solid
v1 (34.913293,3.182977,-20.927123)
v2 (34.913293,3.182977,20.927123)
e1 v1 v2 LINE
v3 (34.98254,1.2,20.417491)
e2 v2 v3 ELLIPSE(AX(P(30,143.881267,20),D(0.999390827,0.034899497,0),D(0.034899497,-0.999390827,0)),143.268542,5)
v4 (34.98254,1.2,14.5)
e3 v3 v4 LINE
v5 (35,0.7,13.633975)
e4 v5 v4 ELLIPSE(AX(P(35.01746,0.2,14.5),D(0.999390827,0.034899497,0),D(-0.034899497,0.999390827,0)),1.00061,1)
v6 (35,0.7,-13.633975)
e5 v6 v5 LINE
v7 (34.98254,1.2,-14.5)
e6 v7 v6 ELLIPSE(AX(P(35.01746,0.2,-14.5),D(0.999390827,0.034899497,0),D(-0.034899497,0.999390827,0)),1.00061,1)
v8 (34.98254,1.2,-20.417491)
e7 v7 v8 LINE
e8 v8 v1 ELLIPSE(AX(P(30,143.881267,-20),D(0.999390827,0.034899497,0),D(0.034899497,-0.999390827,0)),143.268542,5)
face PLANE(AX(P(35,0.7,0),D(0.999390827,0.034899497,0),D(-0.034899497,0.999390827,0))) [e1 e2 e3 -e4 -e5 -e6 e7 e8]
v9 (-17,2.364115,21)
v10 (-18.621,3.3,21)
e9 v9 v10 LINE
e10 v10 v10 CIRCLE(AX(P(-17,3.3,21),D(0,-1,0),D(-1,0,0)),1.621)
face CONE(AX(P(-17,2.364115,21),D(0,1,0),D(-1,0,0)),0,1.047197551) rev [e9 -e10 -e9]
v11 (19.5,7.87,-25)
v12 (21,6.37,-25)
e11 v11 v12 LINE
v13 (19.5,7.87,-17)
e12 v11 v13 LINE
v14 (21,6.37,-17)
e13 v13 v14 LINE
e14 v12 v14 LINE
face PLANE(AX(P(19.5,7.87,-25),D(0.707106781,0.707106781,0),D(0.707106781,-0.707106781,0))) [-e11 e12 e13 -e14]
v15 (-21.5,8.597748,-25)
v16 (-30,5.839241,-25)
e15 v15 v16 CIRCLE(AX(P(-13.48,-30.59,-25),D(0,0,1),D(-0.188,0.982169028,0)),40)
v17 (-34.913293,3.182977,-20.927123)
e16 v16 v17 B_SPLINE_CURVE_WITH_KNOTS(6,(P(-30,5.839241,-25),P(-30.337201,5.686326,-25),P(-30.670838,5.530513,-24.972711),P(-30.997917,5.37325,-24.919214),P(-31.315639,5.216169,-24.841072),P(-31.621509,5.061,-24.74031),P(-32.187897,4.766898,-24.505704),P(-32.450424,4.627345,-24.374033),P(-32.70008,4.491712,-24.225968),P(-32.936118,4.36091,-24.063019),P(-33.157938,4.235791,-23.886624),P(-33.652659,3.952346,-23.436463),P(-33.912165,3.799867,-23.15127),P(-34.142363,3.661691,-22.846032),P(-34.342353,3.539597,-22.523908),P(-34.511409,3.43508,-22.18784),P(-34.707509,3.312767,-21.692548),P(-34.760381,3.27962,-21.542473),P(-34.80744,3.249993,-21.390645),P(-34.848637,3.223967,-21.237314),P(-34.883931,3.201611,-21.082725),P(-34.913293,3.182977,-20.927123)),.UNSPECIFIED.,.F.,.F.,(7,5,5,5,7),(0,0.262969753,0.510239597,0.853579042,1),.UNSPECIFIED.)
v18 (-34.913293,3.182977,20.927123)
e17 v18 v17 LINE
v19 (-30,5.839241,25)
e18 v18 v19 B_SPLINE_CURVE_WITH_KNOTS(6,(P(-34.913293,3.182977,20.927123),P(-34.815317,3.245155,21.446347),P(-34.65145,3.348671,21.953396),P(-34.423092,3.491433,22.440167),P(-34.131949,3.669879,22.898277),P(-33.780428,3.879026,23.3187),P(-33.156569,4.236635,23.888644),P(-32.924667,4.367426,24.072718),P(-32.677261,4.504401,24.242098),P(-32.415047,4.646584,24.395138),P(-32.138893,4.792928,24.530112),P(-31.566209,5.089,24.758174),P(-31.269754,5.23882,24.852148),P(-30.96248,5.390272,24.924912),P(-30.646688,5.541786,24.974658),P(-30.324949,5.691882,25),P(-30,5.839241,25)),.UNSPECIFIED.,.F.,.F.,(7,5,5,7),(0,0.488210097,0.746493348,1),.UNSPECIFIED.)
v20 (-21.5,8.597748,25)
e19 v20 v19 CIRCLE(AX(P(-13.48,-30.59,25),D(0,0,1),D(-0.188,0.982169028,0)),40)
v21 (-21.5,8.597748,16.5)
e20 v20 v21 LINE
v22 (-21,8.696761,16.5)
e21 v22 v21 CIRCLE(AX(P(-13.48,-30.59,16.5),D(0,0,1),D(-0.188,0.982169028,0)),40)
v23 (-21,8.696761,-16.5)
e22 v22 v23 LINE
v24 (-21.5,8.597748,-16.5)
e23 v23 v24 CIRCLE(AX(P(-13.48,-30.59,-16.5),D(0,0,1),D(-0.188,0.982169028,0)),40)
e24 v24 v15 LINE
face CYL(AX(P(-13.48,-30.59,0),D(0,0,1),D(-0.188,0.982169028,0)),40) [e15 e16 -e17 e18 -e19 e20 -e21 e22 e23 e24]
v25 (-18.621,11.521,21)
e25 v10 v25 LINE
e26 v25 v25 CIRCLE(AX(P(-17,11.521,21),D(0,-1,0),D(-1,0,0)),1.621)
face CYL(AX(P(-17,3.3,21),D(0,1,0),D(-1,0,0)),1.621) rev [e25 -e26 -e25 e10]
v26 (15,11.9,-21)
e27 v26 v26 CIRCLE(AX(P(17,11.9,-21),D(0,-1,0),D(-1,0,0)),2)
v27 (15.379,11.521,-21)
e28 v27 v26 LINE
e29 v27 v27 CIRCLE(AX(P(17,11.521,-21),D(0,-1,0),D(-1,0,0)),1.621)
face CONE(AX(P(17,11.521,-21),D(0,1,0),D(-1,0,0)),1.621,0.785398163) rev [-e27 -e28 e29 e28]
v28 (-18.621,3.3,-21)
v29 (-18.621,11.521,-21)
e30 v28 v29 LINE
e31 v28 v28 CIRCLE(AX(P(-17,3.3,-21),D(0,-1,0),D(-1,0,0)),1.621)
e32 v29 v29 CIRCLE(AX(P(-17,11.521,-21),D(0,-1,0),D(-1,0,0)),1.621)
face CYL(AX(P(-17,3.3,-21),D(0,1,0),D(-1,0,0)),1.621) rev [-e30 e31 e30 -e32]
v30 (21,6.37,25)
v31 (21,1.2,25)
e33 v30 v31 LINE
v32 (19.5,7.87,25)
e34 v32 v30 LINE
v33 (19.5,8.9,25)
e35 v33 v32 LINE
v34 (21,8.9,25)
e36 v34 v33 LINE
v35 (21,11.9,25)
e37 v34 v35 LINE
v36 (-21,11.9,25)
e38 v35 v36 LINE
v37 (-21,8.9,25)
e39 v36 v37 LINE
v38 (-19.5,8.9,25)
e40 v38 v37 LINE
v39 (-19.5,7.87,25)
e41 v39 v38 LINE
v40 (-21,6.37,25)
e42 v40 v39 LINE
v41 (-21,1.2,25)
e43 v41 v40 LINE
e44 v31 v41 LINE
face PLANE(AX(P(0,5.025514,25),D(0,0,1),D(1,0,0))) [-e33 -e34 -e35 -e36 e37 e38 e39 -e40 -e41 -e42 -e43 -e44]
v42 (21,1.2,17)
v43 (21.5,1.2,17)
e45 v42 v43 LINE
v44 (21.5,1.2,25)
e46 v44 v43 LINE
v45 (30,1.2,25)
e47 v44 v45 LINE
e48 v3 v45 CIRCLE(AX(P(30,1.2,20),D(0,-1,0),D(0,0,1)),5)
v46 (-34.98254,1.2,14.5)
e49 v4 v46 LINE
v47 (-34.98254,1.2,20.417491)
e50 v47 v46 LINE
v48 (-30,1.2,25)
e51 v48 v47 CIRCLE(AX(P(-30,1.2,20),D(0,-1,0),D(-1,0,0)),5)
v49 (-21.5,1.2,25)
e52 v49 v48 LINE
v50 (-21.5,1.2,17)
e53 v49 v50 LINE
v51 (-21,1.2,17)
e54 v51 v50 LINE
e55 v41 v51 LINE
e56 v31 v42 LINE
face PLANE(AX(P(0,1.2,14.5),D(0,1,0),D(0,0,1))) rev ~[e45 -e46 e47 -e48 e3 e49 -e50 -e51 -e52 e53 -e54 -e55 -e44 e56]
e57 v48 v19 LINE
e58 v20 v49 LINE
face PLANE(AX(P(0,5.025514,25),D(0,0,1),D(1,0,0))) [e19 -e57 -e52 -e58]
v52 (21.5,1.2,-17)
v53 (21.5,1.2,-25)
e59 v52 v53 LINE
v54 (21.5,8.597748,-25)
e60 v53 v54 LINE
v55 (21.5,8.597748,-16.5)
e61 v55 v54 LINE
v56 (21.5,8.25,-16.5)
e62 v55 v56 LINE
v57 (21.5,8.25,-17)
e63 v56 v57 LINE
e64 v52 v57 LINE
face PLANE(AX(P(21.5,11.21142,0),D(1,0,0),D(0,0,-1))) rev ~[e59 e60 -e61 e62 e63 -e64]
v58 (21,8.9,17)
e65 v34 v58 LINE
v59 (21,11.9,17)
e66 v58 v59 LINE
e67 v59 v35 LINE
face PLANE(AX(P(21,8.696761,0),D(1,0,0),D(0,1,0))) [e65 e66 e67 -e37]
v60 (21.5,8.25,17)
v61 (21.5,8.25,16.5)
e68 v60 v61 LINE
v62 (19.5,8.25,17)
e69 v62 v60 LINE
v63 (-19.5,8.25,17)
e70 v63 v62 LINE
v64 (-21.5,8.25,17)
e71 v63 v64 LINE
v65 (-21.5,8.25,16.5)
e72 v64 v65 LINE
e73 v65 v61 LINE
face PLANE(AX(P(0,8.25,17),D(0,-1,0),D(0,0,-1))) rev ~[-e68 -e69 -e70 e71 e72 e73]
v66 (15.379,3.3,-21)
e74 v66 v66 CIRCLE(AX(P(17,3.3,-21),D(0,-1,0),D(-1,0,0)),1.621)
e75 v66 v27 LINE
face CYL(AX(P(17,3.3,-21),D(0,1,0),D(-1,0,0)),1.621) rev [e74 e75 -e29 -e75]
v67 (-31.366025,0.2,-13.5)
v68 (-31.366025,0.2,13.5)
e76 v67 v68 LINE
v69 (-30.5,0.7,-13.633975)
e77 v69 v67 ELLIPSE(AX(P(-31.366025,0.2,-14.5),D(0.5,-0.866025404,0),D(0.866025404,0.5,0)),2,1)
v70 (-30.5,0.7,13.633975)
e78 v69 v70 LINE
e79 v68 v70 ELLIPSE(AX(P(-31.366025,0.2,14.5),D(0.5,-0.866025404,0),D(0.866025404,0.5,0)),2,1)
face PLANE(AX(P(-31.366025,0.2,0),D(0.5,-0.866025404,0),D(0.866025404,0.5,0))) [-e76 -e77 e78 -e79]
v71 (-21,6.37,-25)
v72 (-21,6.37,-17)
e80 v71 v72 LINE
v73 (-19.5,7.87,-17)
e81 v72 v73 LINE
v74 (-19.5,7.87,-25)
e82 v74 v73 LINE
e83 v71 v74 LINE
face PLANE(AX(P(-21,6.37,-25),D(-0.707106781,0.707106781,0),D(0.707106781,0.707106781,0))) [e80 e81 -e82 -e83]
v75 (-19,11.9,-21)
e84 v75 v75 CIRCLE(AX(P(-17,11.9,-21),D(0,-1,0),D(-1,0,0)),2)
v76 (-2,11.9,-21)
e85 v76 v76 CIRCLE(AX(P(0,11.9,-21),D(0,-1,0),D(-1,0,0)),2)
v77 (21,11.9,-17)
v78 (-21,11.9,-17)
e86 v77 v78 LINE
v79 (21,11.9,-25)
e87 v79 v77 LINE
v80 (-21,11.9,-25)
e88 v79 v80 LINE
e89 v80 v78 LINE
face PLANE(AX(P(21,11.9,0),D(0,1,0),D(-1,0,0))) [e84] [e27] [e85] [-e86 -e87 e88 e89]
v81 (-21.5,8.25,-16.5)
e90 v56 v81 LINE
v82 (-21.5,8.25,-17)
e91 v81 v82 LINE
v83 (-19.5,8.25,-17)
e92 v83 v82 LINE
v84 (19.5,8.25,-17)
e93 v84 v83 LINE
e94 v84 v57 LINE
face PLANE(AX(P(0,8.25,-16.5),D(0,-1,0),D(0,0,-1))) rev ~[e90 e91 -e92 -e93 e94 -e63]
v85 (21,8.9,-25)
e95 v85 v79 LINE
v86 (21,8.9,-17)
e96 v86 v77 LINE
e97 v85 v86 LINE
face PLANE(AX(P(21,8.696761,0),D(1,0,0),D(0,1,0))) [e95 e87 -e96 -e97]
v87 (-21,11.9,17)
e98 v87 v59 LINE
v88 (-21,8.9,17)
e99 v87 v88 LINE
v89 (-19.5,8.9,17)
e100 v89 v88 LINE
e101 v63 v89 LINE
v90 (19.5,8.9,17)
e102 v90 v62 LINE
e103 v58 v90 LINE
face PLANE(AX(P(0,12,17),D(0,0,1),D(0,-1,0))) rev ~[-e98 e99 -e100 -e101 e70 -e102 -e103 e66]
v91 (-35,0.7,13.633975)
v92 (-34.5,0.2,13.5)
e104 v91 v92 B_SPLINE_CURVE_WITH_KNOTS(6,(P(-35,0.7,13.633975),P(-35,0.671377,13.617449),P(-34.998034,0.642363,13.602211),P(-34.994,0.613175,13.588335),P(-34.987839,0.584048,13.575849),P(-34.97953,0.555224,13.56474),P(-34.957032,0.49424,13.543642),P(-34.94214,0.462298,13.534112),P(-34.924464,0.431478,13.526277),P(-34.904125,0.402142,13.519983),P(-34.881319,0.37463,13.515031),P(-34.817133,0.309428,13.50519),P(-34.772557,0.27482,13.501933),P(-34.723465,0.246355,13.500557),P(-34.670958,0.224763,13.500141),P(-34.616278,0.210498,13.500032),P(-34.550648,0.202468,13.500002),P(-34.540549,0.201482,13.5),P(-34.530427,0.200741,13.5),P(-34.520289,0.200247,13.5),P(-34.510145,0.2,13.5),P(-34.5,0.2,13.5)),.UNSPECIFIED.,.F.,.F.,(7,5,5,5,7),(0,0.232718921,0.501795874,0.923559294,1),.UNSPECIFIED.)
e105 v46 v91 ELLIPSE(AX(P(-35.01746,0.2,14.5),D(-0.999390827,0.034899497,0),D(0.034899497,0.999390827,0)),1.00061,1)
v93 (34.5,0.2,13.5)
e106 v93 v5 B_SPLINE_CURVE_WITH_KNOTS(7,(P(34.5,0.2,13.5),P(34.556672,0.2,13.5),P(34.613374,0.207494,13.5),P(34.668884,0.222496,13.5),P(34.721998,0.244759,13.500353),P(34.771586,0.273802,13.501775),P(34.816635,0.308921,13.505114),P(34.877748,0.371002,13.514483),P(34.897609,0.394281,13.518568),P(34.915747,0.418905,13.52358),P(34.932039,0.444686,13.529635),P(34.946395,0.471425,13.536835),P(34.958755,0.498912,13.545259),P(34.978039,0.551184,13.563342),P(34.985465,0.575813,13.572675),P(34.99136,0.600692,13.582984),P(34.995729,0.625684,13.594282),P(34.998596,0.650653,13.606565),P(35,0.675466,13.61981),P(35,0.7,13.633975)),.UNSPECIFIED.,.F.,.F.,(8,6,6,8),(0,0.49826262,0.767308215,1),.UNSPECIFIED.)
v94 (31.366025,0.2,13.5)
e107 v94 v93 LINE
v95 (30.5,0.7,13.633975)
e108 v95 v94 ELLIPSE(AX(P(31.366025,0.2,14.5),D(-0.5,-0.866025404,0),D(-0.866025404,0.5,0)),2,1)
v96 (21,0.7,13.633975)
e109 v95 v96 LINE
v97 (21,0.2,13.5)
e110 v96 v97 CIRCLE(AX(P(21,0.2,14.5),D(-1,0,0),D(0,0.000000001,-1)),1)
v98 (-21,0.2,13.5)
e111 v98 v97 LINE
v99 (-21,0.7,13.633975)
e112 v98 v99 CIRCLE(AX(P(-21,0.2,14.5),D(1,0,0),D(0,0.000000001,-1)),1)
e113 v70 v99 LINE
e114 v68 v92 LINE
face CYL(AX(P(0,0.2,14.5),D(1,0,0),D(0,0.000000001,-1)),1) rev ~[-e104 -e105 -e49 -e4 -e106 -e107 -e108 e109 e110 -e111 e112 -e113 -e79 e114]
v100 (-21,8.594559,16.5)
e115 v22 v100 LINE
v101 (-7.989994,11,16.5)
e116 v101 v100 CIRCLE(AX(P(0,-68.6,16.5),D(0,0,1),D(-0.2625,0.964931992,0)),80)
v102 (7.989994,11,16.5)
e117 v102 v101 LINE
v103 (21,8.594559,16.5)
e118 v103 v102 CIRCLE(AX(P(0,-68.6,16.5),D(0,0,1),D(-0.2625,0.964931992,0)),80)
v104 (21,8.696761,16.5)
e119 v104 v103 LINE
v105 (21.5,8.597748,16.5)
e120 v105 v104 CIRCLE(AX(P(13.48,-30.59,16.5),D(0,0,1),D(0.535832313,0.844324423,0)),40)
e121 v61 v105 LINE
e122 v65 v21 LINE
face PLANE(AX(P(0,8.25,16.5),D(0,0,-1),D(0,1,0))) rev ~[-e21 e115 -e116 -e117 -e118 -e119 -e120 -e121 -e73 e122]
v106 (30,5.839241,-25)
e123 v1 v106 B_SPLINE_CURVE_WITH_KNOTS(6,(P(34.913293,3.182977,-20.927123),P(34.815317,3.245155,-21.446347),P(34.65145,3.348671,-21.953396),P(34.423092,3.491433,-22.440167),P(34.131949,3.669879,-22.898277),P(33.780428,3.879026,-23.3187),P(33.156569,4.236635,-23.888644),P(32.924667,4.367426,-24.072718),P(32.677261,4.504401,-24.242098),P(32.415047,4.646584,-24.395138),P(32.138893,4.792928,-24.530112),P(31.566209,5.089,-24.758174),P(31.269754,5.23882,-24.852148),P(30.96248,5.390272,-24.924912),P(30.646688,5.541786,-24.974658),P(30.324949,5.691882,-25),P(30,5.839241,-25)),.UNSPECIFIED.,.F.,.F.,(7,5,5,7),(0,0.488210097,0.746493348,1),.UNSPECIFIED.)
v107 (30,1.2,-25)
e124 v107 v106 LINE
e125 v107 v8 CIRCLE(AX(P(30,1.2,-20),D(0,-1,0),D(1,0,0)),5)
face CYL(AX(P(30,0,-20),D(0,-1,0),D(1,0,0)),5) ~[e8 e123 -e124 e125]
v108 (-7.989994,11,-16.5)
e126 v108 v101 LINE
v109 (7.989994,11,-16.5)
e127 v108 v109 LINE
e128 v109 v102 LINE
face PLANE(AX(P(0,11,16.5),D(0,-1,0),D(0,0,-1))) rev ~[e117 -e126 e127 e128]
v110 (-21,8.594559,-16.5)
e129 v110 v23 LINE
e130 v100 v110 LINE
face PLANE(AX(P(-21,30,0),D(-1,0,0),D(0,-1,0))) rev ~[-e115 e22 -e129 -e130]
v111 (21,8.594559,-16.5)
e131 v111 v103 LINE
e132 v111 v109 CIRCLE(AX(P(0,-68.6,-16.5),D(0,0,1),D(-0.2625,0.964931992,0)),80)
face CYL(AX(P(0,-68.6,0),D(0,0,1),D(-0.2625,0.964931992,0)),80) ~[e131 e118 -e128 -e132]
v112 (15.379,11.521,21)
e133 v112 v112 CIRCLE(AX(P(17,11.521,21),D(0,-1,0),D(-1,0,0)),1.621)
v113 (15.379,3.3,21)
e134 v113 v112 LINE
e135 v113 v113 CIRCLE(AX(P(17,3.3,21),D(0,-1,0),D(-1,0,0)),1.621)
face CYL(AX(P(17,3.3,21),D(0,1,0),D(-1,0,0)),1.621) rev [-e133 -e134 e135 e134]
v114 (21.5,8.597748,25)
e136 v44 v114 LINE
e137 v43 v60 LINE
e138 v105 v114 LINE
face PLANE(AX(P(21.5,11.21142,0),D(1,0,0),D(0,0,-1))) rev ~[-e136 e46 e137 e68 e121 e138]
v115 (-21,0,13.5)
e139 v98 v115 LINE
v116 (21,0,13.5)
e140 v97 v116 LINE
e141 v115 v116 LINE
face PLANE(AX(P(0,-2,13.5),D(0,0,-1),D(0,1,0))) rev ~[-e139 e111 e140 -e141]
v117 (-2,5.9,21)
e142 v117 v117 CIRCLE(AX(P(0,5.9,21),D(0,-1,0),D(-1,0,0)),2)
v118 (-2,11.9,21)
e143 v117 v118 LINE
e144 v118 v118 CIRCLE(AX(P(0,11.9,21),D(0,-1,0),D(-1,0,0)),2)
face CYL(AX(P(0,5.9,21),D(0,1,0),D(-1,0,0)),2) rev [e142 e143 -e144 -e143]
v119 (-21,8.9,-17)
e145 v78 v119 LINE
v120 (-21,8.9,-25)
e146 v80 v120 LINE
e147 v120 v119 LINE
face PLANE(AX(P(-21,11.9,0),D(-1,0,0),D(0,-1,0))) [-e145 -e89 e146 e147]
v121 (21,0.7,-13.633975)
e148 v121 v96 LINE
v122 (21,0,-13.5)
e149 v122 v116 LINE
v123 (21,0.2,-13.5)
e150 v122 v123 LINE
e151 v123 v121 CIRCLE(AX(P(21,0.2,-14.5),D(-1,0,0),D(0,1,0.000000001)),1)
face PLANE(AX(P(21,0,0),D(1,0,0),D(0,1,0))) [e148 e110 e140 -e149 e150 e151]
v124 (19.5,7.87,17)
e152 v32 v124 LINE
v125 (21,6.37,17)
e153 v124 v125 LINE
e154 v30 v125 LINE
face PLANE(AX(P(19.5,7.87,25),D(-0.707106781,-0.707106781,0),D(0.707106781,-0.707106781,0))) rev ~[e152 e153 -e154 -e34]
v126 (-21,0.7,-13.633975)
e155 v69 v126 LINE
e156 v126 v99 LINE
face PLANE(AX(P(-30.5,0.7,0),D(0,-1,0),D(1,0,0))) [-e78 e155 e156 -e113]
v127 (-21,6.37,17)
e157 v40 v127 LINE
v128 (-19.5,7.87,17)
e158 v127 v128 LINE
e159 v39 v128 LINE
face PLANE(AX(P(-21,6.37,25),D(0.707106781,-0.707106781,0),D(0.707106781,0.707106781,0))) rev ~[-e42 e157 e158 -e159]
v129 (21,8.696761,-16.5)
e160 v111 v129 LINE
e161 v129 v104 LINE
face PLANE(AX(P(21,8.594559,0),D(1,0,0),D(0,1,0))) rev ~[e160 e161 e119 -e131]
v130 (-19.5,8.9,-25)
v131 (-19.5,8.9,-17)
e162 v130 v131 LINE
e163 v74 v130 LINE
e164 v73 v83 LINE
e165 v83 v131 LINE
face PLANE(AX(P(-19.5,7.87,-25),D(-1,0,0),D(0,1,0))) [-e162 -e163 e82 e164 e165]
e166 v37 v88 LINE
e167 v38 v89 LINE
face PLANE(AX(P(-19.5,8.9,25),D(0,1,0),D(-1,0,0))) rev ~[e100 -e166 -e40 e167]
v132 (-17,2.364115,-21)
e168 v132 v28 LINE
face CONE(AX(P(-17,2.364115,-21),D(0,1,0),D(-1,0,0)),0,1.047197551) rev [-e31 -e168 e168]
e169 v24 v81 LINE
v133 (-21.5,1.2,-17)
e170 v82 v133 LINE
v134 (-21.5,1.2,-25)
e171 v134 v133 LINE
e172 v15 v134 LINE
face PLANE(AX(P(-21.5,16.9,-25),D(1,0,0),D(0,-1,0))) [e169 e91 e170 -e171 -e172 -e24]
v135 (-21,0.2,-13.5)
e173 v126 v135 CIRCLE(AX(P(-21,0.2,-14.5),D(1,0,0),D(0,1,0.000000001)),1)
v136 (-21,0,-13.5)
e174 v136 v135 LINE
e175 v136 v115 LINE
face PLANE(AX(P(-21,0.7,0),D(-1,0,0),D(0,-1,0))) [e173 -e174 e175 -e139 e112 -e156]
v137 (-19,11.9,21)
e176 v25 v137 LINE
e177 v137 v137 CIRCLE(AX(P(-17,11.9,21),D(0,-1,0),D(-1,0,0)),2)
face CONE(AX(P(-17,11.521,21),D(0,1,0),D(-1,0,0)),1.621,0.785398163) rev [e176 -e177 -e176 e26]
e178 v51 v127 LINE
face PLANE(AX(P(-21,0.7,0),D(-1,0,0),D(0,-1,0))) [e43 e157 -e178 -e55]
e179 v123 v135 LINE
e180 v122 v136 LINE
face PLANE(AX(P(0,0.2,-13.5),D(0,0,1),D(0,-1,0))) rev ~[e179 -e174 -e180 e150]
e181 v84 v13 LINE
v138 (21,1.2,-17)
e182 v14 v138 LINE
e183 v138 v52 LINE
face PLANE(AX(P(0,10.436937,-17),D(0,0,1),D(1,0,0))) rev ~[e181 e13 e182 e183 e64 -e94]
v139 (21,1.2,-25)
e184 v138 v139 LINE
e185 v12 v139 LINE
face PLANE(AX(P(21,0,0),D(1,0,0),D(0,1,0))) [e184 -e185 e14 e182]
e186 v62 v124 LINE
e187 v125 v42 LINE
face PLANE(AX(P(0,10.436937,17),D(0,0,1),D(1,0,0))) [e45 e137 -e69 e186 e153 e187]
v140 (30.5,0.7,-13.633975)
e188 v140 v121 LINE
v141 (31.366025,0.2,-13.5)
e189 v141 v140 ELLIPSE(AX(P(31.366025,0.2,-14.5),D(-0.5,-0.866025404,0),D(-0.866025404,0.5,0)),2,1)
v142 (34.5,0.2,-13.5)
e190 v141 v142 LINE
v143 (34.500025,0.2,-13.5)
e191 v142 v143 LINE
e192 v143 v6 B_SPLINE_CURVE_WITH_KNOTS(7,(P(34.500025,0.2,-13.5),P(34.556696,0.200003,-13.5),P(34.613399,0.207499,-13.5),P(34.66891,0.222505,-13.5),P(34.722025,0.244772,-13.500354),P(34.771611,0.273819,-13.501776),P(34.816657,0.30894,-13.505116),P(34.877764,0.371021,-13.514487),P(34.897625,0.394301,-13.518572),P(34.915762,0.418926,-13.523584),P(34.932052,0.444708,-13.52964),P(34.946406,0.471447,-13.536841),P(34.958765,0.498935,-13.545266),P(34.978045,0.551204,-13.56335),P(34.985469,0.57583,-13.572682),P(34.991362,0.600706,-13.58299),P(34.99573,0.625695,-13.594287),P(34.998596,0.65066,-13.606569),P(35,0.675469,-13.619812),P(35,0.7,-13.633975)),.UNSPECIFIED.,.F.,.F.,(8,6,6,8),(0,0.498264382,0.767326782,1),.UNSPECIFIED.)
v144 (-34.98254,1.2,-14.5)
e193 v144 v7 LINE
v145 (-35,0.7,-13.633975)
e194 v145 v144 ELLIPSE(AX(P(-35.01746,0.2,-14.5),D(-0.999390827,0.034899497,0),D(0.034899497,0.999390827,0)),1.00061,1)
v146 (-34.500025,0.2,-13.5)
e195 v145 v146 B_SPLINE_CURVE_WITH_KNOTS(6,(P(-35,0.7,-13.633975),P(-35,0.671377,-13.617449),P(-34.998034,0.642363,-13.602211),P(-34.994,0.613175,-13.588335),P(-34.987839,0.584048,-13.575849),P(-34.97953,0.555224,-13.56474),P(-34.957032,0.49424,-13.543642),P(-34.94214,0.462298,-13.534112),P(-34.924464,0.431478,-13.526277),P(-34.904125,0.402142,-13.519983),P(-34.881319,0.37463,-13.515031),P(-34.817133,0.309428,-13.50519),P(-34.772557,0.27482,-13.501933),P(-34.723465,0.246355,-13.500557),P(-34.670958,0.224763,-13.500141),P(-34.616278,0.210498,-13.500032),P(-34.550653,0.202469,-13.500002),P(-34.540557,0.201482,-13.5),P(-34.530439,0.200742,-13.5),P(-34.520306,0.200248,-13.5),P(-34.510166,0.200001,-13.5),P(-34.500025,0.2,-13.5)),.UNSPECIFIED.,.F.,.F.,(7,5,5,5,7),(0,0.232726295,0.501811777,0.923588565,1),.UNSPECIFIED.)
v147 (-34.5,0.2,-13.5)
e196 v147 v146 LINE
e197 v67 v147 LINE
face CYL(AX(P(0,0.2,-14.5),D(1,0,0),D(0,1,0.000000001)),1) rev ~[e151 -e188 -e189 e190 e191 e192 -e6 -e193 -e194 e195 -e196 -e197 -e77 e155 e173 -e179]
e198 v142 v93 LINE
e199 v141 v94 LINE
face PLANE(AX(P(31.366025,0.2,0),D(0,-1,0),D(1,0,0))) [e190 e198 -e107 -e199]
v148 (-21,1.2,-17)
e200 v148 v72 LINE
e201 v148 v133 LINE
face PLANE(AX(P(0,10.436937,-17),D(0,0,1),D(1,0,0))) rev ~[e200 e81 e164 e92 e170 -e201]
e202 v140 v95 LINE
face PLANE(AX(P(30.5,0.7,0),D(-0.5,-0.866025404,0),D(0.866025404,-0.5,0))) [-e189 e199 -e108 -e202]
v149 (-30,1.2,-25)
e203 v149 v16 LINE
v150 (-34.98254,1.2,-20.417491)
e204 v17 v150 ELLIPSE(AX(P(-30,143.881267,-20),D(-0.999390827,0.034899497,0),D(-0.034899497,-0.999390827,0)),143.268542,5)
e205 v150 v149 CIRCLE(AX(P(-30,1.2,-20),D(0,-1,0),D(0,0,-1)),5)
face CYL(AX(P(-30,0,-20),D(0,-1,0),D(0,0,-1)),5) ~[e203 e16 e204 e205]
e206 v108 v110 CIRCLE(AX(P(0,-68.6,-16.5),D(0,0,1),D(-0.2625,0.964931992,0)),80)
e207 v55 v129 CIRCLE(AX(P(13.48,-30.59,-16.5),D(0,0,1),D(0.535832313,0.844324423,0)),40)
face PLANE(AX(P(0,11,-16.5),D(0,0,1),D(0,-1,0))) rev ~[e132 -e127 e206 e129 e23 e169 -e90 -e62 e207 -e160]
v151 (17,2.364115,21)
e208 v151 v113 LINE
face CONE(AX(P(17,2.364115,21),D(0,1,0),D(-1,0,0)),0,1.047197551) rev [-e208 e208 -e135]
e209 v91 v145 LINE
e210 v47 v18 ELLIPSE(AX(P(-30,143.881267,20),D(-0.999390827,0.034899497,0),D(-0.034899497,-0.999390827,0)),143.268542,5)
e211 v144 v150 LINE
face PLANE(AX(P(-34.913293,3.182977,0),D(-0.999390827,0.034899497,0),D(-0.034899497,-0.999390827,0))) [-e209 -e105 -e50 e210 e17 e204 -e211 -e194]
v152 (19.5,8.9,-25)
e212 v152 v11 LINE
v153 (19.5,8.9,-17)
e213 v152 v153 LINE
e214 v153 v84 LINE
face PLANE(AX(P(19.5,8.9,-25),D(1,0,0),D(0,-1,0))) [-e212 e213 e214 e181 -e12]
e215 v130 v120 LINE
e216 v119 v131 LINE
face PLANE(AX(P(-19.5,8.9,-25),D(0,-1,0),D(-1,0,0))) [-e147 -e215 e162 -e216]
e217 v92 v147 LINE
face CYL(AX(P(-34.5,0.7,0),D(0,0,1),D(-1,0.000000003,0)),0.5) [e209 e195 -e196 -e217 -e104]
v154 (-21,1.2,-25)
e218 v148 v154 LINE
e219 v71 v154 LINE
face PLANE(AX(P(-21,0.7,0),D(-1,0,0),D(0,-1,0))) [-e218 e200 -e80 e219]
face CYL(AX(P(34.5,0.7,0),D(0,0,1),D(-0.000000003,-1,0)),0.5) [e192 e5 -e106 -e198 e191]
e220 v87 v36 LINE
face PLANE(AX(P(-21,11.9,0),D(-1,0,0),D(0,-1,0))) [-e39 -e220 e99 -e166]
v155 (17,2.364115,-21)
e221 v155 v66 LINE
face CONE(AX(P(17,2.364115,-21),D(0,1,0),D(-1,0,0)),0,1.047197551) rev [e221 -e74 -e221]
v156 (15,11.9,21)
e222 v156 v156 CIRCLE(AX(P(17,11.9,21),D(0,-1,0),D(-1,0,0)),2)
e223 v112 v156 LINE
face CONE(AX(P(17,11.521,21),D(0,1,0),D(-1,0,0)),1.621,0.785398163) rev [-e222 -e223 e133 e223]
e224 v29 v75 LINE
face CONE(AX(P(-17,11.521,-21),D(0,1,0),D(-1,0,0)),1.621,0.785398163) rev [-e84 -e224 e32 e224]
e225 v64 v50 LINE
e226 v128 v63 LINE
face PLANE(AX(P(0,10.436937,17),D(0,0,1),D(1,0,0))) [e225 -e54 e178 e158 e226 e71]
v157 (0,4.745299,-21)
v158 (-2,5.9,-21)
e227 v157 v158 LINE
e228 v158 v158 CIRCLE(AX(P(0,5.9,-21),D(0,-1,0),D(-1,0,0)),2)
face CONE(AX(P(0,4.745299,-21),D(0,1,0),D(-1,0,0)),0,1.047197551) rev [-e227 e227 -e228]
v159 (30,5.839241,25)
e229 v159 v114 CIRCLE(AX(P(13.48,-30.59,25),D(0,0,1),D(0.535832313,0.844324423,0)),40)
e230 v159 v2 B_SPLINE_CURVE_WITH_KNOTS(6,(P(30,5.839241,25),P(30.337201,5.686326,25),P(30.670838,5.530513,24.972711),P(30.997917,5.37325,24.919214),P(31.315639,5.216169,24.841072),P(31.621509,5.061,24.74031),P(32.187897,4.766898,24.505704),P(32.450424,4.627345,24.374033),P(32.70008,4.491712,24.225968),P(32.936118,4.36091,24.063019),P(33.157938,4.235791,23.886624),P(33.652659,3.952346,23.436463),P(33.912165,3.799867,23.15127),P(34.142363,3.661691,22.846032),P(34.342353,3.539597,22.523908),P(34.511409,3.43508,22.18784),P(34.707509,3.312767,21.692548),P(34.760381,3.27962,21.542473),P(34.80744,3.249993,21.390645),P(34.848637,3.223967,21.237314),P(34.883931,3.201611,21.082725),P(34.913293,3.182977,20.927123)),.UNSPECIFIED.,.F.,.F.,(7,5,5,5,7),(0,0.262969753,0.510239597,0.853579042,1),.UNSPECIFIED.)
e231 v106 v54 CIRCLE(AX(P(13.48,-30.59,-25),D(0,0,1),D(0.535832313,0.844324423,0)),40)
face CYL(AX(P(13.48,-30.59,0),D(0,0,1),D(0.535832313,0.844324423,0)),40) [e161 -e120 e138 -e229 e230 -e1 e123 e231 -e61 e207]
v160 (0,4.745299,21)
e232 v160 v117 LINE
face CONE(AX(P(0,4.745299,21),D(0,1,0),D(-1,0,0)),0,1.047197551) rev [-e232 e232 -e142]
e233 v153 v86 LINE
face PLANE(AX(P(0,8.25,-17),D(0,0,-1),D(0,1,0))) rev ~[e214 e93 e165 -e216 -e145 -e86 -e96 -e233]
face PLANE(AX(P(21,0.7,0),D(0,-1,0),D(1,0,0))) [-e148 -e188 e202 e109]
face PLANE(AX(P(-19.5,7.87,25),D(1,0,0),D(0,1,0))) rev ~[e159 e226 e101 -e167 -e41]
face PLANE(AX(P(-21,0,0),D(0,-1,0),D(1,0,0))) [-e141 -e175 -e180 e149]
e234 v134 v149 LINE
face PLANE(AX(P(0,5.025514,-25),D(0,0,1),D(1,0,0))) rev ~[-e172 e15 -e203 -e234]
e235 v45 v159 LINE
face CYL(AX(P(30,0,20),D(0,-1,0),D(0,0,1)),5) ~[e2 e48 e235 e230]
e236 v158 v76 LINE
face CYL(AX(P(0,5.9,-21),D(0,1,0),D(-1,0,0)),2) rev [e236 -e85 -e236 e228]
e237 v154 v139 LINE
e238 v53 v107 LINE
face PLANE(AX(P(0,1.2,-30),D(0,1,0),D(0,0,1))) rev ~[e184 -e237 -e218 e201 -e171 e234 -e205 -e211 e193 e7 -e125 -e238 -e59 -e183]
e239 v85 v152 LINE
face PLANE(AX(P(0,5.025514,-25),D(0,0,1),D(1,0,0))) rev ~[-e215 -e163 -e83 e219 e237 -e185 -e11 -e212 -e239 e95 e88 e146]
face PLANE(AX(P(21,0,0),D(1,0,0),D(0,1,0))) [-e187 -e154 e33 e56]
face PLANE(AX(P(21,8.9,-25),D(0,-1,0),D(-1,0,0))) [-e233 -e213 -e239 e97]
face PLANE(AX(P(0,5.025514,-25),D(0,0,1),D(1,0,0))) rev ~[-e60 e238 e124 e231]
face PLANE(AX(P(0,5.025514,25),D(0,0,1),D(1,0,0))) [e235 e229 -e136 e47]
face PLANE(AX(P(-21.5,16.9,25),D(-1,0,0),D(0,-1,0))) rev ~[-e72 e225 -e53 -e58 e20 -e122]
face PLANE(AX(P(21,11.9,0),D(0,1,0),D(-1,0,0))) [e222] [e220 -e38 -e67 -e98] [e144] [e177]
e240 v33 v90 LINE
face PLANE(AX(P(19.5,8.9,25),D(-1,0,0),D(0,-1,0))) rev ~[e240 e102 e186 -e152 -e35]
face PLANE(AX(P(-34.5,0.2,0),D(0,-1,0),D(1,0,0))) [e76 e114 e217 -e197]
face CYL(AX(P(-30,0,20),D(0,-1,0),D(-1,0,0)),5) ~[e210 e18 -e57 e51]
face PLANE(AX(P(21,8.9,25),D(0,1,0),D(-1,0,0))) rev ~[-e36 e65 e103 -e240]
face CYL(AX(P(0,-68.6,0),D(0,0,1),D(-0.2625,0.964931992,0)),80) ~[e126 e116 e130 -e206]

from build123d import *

# Parameters (mm, degrees)
BOSS_EXTRUDE1_DEPTH      = 25
BOSS_EXTRUDE1_DEPTH_BACK = 25
CUT_EXTRUDE1_DEPTH       = 17
CUT_EXTRUDE1_DEPTH_BACK  = 17
CUT_EXTRUDE2_DEPTH       = 8
CUT_EXTRUDE3_DEPTH       = 8
CUT_EXTRUDE4_DEPTH       = 21.5
CUT_EXTRUDE4_DEPTH_BACK  = 21.5
CUT_EXTRUDE5_DEPTH       = 35
CUT_EXTRUDE5_DEPTH_BACK  = 35
CUT_EXTRUDE6_DEPTH       = 29
CUT_EXTRUDE6_DEPTH_BACK  = 29
SKETCH7_W                = 107.768014059
SKETCH7_H                = 69.938488576


with BuildPart() as part:
    # Sketch1 → Boss-Extrude1 (new, two sides: drawn at the far end of the back side and taken through both)
    with BuildSketch(Plane.XY.offset(-BOSS_EXTRUDE1_DEPTH_BACK)):
        with BuildLine():
            Line((-34.5, 0.2), (-31.366025404, 0.2))
            Line((-31.366025404, 0.2), (-30.5, 0.7))
            Line((-30.5, 0.7), (-21, 0.7))
            Line((-21, 0.7), (-21, 0))
            Line((-21, 0), (21, 0))
            Line((21, 0), (21, 0.7))
            Line((21, 0.7), (30.5, 0.7))
            Line((30.5, 0.7), (31.366025404, 0.2))
            Line((31.366025404, 0.2), (34.5, 0.2))
            ThreePointArc((34.5, 0.2), (34.853553391, 0.346446609), (35, 0.7))
            Line((35, 0.7), (34.913292535, 3.182976936))
            ThreePointArc((34.913292535, 3.182976936), (28.216815843, 6.59637195), (21, 8.696761129))
            Line((21, 8.696761129), (21, 11.9))
            Line((21, 11.9), (-21, 11.9))
            Line((-21, 11.9), (-21, 8.696761129))
            ThreePointArc((-21, 8.696761129), (-28.216815843, 6.59637195), (-34.913292535, 3.182976936))
            Line((-34.913292535, 3.182976936), (-35, 0.7))
            ThreePointArc((-35, 0.7), (-34.853553391, 0.346446609), (-34.5, 0.2))
        make_face()
    extrude(amount=BOSS_EXTRUDE1_DEPTH + BOSS_EXTRUDE1_DEPTH_BACK)

    # Sketch2 → Cut-Extrude1 (cut, two sides: drawn at the far end of the back side and taken through both)
    with BuildSketch(Plane.XY.offset(-CUT_EXTRUDE1_DEPTH_BACK)):
        with BuildLine():
            Line((21, 8.594559394), (21, 30))
            Line((21, 30), (-21, 30))
            Line((-21, 30), (-21, 8.594559394))
            ThreePointArc((-21, 8.594559394), (0, 11.4), (21, 8.594559394))
        make_face()
    extrude(amount=CUT_EXTRUDE1_DEPTH + CUT_EXTRUDE1_DEPTH_BACK, mode=Mode.SUBTRACT)

    # Sketch3 → Cut-Extrude2 (cut)
    with BuildSketch(Plane.XY.offset(25)):
        Polygon((-21.5, -3), (-21, -3), (-21, 6.37), (-19.5, 7.87), (-19.5, 8.9), (-21, 8.9), (-21, 11.9), (21, 11.9), (21, 8.9), (19.5, 8.9), (19.5, 7.87), (21, 6.37), (21, -3), (21.5, -3), (21.5, 16.9), (-21.5, 16.9), align=None)
    extrude(amount=-CUT_EXTRUDE2_DEPTH, mode=Mode.SUBTRACT)

    # Sketch4 → Cut-Extrude3 (cut)
    with BuildSketch(Plane.XY.offset(-25)):
        Polygon((-21.5, -3), (-21, -3), (-21, 6.37), (-19.5, 7.87), (-19.5, 8.9), (-21, 8.9), (-21, 11.9), (21, 11.9), (21, 8.9), (19.5, 8.9), (19.5, 7.87), (21, 6.37), (21, -3), (21.5, -3), (21.5, 16.9), (-21.5, 16.9), align=None)
    extrude(amount=CUT_EXTRUDE3_DEPTH, mode=Mode.SUBTRACT)

    # Sketch5 → Cut-Extrude4 (cut, two sides: drawn at the far end of the back side and taken through both)
    with BuildSketch(Plane(origin=(0, 0, 0), x_dir=(0, 0, -1), z_dir=(1, 0, 0)).offset(-CUT_EXTRUDE4_DEPTH_BACK)):
        Polygon((-17, 8.25), (-16.5, 8.25), (-16.5, 11), (16.5, 11), (16.5, 8.25), (17, 8.25), (17, 12), (-17, 12), align=None)
    extrude(amount=CUT_EXTRUDE4_DEPTH + CUT_EXTRUDE4_DEPTH_BACK, mode=Mode.SUBTRACT)

    # Sketch6 → Cut-Extrude5 (cut, two sides: drawn at the far end of the back side and taken through both)
    with BuildSketch(Plane(origin=(0, 0, 0), x_dir=(0, 0, -1), z_dir=(1, 0, 0)).offset(-CUT_EXTRUDE5_DEPTH_BACK)):
        with BuildLine():
            Line((-30, 1.2), (-30, -5))
            Line((-30, -5), (30, -5))
            Line((30, -5), (30, 1.2))
            Line((30, 1.2), (14.5, 1.2))
            ThreePointArc((14.5, 1.2), (13.792893219, 0.907106781), (13.5, 0.2))
            Line((13.5, 0.2), (13.5, -2))
            Line((13.5, -2), (-13.5, -2))
            Line((-13.5, -2), (-13.5, 0.2))
            ThreePointArc((-13.5, 0.2), (-13.792893219, 0.907106781), (-14.5, 1.2))
            Line((-14.5, 1.2), (-30, 1.2))
        make_face()
    extrude(amount=CUT_EXTRUDE5_DEPTH + CUT_EXTRUDE5_DEPTH_BACK, mode=Mode.SUBTRACT)

    # Sketch7 → Cut-Extrude6 (cut, two sides: drawn at the far end of the back side and taken through both)
    with BuildSketch(Plane(origin=(0, 0, 0), x_dir=(-1, 0, 0), z_dir=(0, 1, 0)).offset(-CUT_EXTRUDE6_DEPTH_BACK)):
        with Locations((-2.122144112, 2.214411248)):
            Rectangle(SKETCH7_W, SKETCH7_H)
        with BuildLine():
            Line((35, -20), (35, 20))
            ThreePointArc((35, 20), (33.535533906, 23.535533906), (30, 25))
            Line((30, 25), (-30, 25))
            ThreePointArc((-30, 25), (-33.535533906, 23.535533906), (-35, 20))
            Line((-35, 20), (-35, -20))
            ThreePointArc((-35, -20), (-33.535533906, -23.535533906), (-30, -25))
            Line((-30, -25), (30, -25))
            ThreePointArc((30, -25), (33.535533906, -23.535533906), (35, -20))
        make_face(mode=Mode.SUBTRACT)
    extrude(amount=CUT_EXTRUDE6_DEPTH + CUT_EXTRUDE6_DEPTH_BACK, mode=Mode.SUBTRACT)

    # Sketch8 → Cut-Revolve1 (revolve, cut)
    with BuildSketch(Plane.XY.offset(21)):
        Polygon((-17, 2.364115214), (-18.621, 3.3), (-18.621, 11.521), (-19, 11.9), (-17, 11.9), align=None)
    revolve(axis=Axis((-17, 11.9, 21), (0, -1, 0)), mode=Mode.SUBTRACT)

    # Sketch9 → Cut-Revolve2 (revolve, cut)
    with BuildSketch(Plane.XY.offset(-21)):
        Polygon((-17, 2.364115214), (-18.621, 3.3), (-18.621, 11.521), (-19, 11.9), (-17, 11.9), align=None)
    revolve(axis=Axis((-17, 11.9, -21), (0, -1, 0)), mode=Mode.SUBTRACT)

    # Sketch10 → Cut-Revolve3 (revolve, cut)
    with BuildSketch(Plane.XY.offset(-21)):
        Polygon((17, 2.364115214), (15.379, 3.3), (15.379, 11.521), (15, 11.9), (17, 11.9), align=None)
    revolve(axis=Axis((17, 11.9, -21), (0, -1, 0)), mode=Mode.SUBTRACT)

    # Sketch11 → Cut-Revolve4 (revolve, cut)
    with BuildSketch(Plane.XY.offset(21)):
        Polygon((17, 2.364115214), (15.379, 3.3), (15.379, 11.521), (15, 11.9), (17, 11.9), align=None)
    revolve(axis=Axis((17, 11.9, 21), (0, -1, 0)), mode=Mode.SUBTRACT)

    # Sketch12 → Cut-Revolve5 (revolve, cut)
    with BuildSketch(Plane.XY.offset(21)):
        Polygon((0, 4.745299462), (-2, 5.9), (-2, 11.9), (0, 11.9), align=None)
    revolve(axis=Axis((0, 11.9, 21), (0, -1, 0)), mode=Mode.SUBTRACT)

    # Sketch13 → Cut-Revolve6 (revolve, cut)
    with BuildSketch(Plane.XY.offset(-21)):
        Polygon((0, 4.745299462), (-2, 5.9), (-2, 11.9), (0, 11.9), align=None)
    revolve(axis=Axis((0, 11.9, -21), (0, -1, 0)), mode=Mode.SUBTRACT)


solid = part.part
